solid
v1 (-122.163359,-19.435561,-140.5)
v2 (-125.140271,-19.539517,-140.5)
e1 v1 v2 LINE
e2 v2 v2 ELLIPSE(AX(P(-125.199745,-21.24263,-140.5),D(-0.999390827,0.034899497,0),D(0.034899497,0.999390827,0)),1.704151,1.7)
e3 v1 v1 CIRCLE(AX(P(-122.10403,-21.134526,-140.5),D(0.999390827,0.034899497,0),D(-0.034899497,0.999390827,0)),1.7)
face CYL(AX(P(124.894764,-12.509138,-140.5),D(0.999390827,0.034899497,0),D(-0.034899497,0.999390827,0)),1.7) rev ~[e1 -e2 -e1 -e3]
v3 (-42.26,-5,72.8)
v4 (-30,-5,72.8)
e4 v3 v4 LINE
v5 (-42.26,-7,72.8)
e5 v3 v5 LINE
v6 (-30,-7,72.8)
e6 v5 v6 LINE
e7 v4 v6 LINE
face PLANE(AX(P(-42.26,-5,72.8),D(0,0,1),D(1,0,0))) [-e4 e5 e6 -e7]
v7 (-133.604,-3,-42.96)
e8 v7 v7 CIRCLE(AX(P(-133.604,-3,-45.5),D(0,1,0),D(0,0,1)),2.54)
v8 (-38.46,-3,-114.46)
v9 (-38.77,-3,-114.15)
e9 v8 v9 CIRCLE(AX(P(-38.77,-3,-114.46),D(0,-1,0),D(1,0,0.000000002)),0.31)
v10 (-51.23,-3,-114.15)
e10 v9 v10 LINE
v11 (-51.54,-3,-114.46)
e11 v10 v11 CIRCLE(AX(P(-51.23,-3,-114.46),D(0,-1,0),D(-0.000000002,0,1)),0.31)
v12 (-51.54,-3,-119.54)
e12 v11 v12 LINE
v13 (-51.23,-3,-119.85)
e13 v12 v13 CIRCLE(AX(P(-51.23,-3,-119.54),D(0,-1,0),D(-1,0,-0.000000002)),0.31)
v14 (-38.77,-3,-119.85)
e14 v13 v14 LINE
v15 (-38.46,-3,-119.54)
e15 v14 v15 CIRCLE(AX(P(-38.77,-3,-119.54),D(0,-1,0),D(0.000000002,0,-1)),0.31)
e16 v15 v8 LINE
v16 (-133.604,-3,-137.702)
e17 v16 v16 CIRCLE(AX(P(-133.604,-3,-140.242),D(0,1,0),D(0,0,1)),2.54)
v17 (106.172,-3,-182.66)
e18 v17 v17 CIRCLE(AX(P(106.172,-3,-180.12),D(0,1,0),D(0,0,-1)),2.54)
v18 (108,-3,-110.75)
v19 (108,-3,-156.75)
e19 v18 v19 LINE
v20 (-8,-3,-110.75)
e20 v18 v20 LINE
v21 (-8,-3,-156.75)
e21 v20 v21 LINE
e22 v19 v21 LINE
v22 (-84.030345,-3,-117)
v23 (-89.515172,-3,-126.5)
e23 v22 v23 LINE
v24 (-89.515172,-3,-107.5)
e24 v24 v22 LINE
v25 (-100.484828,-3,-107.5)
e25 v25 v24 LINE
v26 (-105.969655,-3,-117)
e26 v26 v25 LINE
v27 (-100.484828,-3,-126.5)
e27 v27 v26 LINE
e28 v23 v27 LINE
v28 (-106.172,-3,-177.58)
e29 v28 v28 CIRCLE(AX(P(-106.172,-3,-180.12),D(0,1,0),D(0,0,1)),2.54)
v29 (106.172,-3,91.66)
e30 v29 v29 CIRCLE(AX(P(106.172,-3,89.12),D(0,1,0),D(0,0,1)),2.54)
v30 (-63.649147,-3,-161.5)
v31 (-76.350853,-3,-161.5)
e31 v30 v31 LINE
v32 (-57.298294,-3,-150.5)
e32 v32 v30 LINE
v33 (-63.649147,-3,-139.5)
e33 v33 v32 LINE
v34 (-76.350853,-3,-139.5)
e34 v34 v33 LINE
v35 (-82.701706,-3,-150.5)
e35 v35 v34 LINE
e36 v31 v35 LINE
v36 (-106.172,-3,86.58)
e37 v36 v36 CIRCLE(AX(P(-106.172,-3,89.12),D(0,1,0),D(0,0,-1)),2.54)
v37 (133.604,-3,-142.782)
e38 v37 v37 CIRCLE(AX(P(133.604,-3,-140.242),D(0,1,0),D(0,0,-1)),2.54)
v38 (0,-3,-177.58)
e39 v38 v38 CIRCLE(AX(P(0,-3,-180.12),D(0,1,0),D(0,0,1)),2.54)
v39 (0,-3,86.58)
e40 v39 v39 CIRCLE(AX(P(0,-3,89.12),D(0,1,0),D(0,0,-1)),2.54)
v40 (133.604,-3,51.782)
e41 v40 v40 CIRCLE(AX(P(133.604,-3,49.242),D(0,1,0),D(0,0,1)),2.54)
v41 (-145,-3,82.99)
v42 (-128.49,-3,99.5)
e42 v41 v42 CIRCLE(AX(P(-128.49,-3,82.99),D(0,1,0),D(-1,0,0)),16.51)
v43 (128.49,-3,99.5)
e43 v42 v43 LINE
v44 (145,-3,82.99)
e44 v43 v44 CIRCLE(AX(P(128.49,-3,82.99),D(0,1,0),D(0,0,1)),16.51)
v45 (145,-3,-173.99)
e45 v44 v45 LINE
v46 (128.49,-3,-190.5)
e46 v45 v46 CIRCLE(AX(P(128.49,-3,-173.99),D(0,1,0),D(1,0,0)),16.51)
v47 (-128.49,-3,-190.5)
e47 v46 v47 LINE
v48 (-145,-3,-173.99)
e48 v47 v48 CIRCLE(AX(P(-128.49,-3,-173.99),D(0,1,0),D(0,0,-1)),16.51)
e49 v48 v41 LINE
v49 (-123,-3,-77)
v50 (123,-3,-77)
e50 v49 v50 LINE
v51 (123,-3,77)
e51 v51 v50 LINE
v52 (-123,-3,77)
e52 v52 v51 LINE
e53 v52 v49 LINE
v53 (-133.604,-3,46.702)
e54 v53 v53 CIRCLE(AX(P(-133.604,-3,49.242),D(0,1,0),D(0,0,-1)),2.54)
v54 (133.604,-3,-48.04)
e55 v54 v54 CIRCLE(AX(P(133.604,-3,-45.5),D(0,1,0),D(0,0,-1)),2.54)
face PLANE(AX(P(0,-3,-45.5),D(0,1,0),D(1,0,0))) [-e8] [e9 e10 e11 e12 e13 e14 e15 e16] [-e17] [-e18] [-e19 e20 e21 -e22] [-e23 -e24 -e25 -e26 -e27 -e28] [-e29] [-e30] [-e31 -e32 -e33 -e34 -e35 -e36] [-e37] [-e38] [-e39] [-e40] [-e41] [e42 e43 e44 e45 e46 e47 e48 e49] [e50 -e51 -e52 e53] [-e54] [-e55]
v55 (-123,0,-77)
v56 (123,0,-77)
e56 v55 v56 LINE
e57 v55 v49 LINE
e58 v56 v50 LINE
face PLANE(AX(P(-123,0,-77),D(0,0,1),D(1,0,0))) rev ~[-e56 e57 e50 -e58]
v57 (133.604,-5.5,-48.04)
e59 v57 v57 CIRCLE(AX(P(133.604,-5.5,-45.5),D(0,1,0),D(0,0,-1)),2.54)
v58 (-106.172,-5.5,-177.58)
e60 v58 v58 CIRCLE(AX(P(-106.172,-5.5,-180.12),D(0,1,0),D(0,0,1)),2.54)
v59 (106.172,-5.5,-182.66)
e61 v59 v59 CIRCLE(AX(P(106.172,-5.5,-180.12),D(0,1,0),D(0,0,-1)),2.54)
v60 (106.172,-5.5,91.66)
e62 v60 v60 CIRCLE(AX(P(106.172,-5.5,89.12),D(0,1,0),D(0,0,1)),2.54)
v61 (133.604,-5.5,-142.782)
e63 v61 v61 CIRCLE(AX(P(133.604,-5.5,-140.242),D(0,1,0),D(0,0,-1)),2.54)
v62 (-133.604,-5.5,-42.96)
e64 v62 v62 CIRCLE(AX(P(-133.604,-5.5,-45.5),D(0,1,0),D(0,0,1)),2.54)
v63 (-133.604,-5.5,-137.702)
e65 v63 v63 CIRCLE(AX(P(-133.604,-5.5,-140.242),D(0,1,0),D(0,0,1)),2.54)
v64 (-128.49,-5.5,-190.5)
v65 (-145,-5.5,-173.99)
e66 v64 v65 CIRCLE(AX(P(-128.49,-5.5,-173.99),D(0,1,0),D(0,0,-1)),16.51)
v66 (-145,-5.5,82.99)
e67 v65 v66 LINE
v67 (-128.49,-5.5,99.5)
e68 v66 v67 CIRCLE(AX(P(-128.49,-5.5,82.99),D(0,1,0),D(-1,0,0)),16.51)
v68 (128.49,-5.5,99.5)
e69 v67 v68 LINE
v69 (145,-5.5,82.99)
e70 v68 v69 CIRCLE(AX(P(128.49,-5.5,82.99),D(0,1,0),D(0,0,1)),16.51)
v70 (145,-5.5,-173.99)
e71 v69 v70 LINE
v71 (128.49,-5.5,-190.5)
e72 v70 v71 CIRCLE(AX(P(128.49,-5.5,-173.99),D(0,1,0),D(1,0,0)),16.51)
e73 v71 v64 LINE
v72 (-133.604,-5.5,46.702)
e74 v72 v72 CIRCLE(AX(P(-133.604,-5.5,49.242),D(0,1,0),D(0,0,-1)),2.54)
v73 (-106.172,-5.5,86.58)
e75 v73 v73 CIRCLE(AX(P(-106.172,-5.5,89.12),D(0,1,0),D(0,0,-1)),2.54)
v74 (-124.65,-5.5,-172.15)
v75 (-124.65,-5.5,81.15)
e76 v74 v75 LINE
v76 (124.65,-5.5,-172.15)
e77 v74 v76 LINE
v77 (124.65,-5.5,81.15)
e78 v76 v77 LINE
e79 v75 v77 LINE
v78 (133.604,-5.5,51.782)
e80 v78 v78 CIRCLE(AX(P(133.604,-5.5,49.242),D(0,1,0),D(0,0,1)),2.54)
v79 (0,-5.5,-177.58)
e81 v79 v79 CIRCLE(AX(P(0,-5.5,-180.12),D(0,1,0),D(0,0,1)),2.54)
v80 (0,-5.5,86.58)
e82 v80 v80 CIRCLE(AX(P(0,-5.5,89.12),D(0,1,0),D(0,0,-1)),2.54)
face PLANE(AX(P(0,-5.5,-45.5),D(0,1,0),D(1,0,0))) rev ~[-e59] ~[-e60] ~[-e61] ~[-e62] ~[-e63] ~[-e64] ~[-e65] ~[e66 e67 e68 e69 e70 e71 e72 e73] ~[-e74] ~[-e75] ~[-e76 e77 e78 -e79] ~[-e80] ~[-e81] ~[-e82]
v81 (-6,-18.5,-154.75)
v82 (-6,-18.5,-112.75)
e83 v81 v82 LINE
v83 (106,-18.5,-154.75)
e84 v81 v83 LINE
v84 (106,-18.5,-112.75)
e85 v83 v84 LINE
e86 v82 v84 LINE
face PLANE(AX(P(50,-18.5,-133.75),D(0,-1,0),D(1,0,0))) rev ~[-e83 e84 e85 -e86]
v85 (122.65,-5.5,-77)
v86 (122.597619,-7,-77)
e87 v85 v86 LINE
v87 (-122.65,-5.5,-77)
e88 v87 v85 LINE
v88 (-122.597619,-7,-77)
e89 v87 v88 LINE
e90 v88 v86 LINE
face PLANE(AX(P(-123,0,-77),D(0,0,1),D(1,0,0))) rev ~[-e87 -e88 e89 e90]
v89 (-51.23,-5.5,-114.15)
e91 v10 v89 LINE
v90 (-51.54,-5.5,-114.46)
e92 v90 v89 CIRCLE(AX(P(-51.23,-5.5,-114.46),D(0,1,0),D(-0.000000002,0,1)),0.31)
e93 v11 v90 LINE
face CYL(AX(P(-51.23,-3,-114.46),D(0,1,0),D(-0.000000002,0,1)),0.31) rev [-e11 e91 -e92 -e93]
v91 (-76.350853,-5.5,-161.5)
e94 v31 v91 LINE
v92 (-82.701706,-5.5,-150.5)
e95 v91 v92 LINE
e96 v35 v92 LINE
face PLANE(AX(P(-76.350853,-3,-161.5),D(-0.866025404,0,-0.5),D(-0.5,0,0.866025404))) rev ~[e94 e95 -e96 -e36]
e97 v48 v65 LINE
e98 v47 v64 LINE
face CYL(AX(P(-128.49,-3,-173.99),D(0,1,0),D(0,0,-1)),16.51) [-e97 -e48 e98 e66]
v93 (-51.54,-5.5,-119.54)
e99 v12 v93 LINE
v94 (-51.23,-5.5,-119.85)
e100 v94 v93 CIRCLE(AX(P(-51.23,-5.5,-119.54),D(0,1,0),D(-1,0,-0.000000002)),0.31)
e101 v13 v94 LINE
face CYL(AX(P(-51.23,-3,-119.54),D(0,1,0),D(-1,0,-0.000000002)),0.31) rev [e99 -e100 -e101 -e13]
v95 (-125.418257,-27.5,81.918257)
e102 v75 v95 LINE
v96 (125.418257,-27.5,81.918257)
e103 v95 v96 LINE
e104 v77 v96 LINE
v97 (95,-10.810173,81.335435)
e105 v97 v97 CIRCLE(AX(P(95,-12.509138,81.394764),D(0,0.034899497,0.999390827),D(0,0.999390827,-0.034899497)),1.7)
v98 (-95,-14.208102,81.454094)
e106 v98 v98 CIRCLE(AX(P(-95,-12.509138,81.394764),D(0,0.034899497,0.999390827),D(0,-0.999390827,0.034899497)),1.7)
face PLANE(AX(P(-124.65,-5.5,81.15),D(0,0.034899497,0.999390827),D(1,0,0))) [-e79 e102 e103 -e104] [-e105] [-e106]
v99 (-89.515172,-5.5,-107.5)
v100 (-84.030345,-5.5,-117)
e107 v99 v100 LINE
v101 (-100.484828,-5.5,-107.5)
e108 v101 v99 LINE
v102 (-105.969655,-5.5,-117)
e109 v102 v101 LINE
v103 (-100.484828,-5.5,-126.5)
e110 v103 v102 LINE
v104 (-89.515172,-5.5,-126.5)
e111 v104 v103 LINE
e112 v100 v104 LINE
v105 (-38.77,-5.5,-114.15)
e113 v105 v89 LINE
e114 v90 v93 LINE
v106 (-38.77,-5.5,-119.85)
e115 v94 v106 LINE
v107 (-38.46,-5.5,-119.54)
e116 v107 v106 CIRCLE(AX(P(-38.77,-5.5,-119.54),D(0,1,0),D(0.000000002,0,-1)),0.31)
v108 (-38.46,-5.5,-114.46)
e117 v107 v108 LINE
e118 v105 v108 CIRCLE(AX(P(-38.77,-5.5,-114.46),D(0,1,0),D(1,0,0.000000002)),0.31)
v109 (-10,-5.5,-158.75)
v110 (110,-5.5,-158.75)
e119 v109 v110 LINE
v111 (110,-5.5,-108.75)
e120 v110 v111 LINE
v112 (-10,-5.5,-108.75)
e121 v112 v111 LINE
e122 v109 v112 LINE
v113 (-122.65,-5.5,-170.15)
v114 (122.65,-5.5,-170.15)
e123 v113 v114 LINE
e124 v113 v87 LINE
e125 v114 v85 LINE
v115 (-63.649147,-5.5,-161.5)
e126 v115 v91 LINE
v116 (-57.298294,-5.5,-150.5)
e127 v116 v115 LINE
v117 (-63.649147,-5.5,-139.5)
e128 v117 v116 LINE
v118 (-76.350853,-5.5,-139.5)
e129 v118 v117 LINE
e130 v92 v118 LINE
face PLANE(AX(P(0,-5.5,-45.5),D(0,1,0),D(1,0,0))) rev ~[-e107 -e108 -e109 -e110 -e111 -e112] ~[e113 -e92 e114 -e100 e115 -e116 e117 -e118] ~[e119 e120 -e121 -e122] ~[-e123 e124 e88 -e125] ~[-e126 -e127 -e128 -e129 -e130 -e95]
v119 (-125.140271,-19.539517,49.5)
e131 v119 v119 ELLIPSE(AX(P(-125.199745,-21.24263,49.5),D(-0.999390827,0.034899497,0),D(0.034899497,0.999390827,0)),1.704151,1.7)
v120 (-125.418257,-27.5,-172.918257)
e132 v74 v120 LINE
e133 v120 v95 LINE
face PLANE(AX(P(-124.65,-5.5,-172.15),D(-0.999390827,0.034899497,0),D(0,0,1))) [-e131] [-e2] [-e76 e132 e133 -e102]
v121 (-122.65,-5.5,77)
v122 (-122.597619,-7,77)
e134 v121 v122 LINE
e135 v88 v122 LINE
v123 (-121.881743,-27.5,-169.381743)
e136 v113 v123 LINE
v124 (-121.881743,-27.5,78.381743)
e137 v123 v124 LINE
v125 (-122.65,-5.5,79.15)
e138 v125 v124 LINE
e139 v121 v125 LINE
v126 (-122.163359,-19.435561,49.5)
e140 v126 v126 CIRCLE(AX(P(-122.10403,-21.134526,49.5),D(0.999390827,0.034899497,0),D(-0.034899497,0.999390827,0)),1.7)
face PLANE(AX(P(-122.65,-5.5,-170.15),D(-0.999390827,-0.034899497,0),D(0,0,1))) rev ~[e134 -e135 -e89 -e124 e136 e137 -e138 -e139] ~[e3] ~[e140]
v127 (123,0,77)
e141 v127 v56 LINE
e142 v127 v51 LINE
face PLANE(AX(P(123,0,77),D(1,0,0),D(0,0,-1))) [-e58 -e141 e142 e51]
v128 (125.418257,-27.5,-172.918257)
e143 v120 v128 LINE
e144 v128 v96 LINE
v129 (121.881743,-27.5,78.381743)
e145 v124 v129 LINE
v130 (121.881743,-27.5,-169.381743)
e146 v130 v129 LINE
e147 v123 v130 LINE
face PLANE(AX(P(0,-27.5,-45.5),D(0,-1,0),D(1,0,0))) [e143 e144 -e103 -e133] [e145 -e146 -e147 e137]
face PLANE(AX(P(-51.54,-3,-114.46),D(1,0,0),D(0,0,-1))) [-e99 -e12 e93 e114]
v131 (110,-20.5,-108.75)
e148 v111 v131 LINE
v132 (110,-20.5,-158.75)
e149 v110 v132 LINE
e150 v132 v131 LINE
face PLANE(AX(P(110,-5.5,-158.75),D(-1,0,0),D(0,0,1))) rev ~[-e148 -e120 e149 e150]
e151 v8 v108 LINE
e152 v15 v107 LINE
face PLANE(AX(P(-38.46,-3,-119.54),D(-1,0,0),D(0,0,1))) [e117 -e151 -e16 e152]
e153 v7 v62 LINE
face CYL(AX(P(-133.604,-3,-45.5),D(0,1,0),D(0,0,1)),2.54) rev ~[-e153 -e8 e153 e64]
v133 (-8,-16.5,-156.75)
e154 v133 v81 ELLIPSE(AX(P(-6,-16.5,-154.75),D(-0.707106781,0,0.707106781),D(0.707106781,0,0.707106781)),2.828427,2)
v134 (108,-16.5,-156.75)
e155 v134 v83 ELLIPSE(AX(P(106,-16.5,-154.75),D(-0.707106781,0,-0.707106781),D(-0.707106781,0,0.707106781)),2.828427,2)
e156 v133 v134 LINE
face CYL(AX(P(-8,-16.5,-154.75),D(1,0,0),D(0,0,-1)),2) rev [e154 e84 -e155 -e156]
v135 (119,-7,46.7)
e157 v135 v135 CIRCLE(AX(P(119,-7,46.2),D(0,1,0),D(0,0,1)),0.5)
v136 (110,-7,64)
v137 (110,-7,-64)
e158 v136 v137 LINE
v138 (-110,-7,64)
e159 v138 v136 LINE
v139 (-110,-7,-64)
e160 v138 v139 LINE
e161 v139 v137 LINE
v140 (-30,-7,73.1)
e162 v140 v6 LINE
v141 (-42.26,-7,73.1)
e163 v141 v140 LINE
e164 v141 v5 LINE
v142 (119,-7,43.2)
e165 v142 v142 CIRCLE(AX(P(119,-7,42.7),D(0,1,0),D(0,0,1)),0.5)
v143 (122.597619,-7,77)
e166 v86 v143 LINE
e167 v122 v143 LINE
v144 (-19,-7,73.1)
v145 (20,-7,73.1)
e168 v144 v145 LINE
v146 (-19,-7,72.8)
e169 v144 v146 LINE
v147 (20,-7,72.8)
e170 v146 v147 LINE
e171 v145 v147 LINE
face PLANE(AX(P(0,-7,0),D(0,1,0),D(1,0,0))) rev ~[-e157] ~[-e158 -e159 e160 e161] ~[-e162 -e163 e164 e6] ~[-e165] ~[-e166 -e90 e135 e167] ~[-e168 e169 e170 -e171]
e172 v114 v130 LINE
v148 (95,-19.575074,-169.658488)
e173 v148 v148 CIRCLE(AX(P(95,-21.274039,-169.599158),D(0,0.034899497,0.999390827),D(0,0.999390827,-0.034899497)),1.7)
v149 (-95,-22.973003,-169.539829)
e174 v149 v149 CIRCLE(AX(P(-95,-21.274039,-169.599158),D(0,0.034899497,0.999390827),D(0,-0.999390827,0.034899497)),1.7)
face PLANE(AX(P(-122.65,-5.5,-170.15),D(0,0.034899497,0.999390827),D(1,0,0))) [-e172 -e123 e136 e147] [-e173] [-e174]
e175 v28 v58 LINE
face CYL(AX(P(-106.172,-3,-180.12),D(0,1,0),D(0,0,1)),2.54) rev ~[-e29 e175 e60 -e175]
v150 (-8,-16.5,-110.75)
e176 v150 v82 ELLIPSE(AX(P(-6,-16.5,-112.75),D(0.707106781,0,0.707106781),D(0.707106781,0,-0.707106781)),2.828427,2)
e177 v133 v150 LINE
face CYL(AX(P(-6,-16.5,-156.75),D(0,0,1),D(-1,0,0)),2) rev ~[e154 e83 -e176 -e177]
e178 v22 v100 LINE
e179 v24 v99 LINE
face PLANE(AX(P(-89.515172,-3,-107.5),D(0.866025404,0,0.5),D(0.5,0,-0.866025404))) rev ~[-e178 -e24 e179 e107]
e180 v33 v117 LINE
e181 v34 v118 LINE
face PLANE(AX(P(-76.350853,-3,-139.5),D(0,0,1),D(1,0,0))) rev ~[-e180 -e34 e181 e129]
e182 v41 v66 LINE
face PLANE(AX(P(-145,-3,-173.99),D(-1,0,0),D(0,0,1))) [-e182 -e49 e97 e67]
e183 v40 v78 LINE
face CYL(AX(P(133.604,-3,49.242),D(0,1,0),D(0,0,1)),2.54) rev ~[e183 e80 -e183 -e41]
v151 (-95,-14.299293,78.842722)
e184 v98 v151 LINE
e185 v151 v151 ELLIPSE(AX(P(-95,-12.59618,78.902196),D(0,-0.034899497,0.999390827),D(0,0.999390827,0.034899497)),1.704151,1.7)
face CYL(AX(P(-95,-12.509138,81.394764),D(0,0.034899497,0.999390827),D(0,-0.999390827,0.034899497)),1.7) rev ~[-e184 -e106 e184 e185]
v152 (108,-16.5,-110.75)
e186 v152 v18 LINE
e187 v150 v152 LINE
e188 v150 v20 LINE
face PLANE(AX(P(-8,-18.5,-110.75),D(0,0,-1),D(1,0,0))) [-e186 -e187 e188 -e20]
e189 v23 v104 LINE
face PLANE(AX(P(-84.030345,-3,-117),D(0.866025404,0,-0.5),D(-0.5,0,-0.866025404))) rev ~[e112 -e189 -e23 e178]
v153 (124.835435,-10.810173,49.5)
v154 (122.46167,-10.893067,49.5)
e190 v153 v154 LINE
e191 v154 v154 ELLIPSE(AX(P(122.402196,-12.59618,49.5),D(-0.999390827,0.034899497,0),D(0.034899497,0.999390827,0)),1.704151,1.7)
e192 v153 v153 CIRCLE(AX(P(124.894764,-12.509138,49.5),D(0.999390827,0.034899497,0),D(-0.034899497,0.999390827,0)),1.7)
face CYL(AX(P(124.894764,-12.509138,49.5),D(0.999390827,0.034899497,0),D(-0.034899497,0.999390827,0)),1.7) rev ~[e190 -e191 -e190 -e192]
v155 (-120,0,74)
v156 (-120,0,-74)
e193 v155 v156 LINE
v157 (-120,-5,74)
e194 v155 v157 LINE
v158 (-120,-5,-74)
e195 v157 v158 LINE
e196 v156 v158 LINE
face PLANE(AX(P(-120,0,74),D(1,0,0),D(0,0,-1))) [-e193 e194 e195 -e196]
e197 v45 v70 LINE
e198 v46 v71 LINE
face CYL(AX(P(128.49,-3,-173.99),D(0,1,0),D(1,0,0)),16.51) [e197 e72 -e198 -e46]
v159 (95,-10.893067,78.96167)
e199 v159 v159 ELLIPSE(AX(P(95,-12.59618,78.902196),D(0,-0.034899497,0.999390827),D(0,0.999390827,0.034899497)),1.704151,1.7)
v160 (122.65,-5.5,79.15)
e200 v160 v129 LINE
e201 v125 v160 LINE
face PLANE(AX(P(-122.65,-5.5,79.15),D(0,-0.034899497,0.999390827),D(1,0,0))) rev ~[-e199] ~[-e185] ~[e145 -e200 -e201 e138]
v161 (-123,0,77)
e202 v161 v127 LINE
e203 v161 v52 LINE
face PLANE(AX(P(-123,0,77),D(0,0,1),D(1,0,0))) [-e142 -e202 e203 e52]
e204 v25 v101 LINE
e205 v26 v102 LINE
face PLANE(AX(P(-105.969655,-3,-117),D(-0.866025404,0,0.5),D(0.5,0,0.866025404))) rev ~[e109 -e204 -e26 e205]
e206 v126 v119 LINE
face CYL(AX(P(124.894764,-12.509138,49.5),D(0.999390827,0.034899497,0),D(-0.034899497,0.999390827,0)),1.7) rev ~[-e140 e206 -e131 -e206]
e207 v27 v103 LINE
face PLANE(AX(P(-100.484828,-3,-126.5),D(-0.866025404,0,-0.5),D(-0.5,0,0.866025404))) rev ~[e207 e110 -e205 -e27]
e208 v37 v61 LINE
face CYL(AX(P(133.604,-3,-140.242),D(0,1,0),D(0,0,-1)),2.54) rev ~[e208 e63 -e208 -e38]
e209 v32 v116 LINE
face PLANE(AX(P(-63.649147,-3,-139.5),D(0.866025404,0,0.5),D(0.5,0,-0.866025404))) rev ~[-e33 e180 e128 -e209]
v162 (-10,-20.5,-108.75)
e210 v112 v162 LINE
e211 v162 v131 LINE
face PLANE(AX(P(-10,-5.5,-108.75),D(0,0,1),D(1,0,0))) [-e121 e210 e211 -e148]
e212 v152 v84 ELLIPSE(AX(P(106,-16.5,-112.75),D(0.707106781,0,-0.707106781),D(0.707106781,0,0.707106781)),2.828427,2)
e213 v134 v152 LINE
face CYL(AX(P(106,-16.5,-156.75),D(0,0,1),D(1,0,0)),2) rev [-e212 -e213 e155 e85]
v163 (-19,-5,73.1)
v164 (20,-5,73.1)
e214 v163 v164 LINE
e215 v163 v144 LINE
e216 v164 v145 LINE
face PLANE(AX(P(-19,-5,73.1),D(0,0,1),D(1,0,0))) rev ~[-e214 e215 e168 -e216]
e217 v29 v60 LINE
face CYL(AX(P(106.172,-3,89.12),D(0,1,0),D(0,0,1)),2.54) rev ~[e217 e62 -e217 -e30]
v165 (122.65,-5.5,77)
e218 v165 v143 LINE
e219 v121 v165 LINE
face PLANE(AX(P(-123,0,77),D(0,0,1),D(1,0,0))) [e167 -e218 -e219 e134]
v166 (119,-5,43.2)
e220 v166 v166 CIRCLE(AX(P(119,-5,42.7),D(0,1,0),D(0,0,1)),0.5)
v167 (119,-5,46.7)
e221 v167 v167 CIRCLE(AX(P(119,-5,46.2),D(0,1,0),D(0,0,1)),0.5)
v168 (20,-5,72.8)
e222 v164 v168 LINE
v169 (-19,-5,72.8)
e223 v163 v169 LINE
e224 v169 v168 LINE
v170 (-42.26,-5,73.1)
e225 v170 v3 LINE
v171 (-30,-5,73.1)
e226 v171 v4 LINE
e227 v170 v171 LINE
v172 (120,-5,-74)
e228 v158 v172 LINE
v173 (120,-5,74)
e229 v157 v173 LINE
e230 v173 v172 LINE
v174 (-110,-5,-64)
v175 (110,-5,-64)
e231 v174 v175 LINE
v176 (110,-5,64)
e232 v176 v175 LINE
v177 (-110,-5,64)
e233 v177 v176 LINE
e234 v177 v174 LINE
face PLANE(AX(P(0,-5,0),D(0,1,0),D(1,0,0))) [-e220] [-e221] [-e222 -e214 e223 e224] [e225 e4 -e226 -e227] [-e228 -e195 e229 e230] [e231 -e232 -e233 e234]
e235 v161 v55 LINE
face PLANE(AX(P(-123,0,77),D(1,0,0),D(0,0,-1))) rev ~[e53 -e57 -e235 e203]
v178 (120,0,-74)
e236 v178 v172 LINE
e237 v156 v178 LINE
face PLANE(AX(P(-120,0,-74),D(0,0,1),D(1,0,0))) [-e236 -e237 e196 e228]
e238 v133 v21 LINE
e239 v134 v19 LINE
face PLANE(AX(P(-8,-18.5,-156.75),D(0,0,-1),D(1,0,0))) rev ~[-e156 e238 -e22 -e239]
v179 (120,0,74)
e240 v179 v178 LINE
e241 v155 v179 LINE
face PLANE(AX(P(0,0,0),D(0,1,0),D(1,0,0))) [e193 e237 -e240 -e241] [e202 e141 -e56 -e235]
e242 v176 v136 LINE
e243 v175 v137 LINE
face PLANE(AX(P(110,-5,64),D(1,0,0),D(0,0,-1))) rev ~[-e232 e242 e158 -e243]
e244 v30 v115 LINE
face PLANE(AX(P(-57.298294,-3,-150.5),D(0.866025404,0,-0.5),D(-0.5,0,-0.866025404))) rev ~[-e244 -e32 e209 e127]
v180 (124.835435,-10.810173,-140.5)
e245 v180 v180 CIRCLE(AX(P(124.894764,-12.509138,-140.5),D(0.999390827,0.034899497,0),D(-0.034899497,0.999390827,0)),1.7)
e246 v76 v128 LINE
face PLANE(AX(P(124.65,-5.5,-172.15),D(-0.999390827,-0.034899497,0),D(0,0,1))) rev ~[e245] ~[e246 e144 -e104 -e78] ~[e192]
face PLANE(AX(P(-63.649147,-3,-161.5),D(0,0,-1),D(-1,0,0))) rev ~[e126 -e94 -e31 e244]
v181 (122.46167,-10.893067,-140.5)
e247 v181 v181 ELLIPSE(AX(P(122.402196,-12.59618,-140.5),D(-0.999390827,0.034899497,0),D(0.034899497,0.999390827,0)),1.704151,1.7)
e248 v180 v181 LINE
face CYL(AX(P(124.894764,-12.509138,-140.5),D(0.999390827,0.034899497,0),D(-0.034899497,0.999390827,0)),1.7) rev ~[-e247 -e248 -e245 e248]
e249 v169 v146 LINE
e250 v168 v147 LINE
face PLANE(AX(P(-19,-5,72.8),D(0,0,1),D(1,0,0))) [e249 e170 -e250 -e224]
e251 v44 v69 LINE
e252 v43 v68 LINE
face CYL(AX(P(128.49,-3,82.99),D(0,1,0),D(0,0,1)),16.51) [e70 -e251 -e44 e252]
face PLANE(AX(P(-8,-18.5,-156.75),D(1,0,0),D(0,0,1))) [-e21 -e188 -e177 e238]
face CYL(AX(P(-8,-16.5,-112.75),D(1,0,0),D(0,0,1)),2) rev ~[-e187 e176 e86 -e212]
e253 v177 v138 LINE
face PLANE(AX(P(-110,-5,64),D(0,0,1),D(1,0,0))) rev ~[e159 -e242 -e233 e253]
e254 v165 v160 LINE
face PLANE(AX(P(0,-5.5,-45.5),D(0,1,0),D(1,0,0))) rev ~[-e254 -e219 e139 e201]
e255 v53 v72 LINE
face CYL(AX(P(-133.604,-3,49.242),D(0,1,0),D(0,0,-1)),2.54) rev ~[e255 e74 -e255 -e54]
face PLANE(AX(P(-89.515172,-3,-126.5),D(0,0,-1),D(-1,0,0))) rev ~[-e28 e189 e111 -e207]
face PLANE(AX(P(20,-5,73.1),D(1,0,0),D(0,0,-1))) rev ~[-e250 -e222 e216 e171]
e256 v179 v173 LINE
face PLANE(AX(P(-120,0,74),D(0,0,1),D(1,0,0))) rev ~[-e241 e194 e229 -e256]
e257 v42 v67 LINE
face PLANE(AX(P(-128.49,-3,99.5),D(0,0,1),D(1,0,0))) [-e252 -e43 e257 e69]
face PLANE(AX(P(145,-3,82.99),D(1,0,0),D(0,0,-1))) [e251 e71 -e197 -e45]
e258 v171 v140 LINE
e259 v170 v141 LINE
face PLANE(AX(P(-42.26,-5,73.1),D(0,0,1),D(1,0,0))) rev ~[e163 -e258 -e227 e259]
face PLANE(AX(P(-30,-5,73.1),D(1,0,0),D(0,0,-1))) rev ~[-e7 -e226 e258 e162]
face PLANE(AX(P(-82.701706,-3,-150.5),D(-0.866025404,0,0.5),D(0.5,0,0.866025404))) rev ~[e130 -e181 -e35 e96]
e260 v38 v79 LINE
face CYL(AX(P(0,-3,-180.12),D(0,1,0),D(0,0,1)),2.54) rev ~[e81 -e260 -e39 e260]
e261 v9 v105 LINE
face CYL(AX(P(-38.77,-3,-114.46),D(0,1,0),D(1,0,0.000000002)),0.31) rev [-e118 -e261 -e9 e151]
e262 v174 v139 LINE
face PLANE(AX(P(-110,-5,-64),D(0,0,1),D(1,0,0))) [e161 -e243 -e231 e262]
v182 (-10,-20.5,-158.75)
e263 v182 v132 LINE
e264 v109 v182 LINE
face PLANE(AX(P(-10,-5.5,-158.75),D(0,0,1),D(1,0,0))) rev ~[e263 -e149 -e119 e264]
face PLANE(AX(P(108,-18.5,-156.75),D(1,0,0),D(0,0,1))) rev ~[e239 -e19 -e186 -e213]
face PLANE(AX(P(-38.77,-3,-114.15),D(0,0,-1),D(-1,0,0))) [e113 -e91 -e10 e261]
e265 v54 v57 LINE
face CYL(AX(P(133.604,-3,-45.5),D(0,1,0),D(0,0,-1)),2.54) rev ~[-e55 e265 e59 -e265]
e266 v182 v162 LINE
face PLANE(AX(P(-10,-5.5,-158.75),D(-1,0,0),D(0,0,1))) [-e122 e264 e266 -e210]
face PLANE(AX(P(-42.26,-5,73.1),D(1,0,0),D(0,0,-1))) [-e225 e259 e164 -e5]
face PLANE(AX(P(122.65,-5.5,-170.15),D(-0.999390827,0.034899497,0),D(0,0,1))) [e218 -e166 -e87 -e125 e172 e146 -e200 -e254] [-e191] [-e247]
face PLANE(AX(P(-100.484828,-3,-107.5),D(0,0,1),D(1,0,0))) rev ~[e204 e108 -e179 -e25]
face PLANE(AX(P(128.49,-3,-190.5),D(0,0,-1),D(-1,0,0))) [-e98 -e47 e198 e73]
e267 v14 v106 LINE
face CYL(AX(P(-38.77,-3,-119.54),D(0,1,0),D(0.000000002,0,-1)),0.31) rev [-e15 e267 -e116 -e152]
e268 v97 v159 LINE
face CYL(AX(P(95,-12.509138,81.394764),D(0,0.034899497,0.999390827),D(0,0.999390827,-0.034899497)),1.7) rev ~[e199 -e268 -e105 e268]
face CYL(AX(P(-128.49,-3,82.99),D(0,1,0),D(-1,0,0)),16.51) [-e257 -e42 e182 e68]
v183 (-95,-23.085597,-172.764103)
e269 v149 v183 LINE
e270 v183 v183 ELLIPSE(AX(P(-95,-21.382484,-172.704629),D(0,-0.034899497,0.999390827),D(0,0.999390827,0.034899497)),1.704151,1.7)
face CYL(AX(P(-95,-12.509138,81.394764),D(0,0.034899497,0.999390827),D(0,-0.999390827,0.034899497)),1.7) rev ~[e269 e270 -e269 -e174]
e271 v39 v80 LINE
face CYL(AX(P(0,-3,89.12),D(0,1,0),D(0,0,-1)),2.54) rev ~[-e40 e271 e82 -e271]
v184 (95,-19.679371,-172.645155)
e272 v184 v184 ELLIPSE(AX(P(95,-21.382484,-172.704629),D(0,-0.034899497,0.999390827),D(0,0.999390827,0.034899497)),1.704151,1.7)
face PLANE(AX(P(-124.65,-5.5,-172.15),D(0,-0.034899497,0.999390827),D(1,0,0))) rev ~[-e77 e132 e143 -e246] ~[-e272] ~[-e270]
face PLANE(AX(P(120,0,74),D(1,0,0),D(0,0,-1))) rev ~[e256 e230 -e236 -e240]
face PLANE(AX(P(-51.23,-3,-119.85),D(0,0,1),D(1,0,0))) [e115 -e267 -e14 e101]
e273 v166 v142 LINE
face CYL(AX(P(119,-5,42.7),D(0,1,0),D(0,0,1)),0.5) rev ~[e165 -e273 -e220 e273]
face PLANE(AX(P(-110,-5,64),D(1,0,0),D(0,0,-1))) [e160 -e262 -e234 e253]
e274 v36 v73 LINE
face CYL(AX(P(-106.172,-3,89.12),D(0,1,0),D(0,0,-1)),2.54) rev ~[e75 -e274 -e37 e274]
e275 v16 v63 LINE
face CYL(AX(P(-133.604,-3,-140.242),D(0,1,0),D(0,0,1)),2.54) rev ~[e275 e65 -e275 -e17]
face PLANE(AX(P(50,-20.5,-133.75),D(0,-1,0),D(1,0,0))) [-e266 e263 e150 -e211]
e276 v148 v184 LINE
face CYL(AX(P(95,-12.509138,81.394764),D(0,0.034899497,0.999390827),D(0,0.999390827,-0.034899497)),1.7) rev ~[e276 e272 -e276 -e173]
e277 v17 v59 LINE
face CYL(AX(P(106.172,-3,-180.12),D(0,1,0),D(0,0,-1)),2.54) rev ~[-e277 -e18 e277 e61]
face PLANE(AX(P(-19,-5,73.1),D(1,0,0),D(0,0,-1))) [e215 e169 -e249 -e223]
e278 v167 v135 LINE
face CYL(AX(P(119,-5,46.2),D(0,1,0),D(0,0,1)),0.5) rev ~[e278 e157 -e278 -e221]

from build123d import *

# Parameters (mm, degrees)
SKETCH1_W           = 246
SKETCH1_H           = 154
BOSS_EXTRUDE1_DEPTH = 7
SKETCH2_W           = 240
SKETCH2_H           = 148
CUT_EXTRUDE1_DEPTH  = 5
SKETCH3_W           = 220
SKETCH3_H           = 128
CUT_EXTRUDE2_DEPTH  = 5
BOSS_EXTRUDE2_START = -3
SKETCH6_W           = 246
SKETCH6_H           = 154
BOSS_EXTRUDE2_DEPTH = 2.5
SKETCH8_W           = 39
SKETCH8_H           = 0.3
SKETCH8_W_2         = 12.26
CUT_EXTRUDE5_DEPTH  = 5
SKETCH9_R           = 0.5
CUT_EXTRUDE6_DEPTH  = 5
SKETCH10_R          = 2.54
CUT_EXTRUDE7_DEPTH  = 5
SKETCH11_W          = 249.3
SKETCH11_H          = 253.3
SKETCH11_W_2        = 245.3
SKETCH11_H_2        = 249.3
BOSS_EXTRUDE3_DEPTH = 22
BOSS_EXTRUDE3_DRAFT = -2
SKETCH12_R          = 1.7
CUT_EXTRUDE8_DEPTH  = 332.406096652
SKETCH13_R          = 1.7
CUT_EXTRUDE9_DEPTH  = 310.160818194
SKETCH14_W          = 120
SKETCH14_H          = 50
BOSS_EXTRUDE4_DEPTH = 15
CUT_EXTRUDE10_START = -2
SKETCH15_W          = 116
SKETCH15_H          = 46
CUT_EXTRUDE10_DEPTH = 239.282125844
FILLET1_R           = 2
CUT_EXTRUDE11_DEPTH = 241.656394056


with BuildPart() as part:
    # Sketch1 → Boss-Extrude1 (new body)
    with BuildSketch(Plane(origin=(0, 0, 0), x_dir=(1, 0, 0), z_dir=(0, 1, 0))):
        Rectangle(SKETCH1_W, SKETCH1_H)
    extrude(amount=-BOSS_EXTRUDE1_DEPTH)

    # Sketch2 → Cut-Extrude1 (cut)
    with BuildSketch(Plane(origin=(0, 0, 0), x_dir=(1, 0, 0), z_dir=(0, 1, 0))):
        Rectangle(SKETCH2_W, SKETCH2_H)
    extrude(amount=-CUT_EXTRUDE1_DEPTH, mode=Mode.SUBTRACT)

    # Sketch3 → Cut-Extrude2 (cut)
    with BuildSketch(Plane(origin=(0, -5, 0), x_dir=(1, 0, 0), z_dir=(0, 1, 0))):
        Rectangle(SKETCH3_W, SKETCH3_H)
    extrude(amount=-CUT_EXTRUDE2_DEPTH, mode=Mode.SUBTRACT)

    # Sketch6 → Boss-Extrude2 (add)
    with BuildSketch(Plane(origin=(0, 0, 0), x_dir=(1, 0, 0), z_dir=(0, 1, 0)).offset(BOSS_EXTRUDE2_START)):
        with BuildLine():
            Line((-128.49, -99.5), (128.49, -99.5))
            ThreePointArc((128.49, -99.5), (140.164332957, -94.664332957), (145, -82.99))
            Line((145, -82.99), (145, 173.99))
            ThreePointArc((145, 173.99), (140.164332957, 185.664332957), (128.49, 190.5))
            Line((128.49, 190.5), (-128.49, 190.5))
            ThreePointArc((-128.49, 190.5), (-140.164332957, 185.664332957), (-145, 173.99))
            Line((-145, 173.99), (-145, -82.99))
            ThreePointArc((-145, -82.99), (-140.164332957, -94.664332957), (-128.49, -99.5))
        make_face()
        Rectangle(SKETCH6_W, SKETCH6_H, mode=Mode.SUBTRACT)
    extrude(amount=-BOSS_EXTRUDE2_DEPTH)

    # Sketch8 → Cut-Extrude5 (cut)
    with BuildSketch(Plane(origin=(0, -5, 0), x_dir=(1, 0, 0), z_dir=(0, 1, 0))):
        with Locations((0.5, -72.95)):
            Rectangle(SKETCH8_W, SKETCH8_H)
        with Locations((-36.13, -72.95)):
            Rectangle(SKETCH8_W_2, SKETCH8_H)
    extrude(amount=-CUT_EXTRUDE5_DEPTH, mode=Mode.SUBTRACT)

    # Sketch9 → Cut-Extrude6 (cut)
    with BuildSketch(Plane(origin=(0, -5, 0), x_dir=(1, 0, 0), z_dir=(0, 1, 0))):
        with Locations(Location((119, -46.2, 0), (0, 0, 270))):
            Circle(SKETCH9_R)
        with Locations(Location((119, -42.7, 0), (0, 0, 270))):
            Circle(SKETCH9_R)
    extrude(amount=-CUT_EXTRUDE6_DEPTH, mode=Mode.SUBTRACT)

    # Sketch10 → Cut-Extrude7 (cut)
    with BuildSketch(Plane(origin=(0, -3, 0), x_dir=(1, 0, 0), z_dir=(0, 1, 0))):
        with Locations(Location((-133.604, 140.242, 0), (0, 0, 270))):
            Circle(SKETCH10_R)
        with Locations(Location((-106.172, 180.12, 0), (0, 0, 270))):
            Circle(SKETCH10_R)
        with Locations(Location((-133.604, -49.242, 0), (0, 0, 90))):
            Circle(SKETCH10_R)
        with Locations(Location((-133.604, 45.5, 0), (0, 0, 270))):
            Circle(SKETCH10_R)
        with Locations(Location((0, 180.12, 0), (0, 0, 270))):
            Circle(SKETCH10_R)
        with Locations(Location((0, -89.12, 0), (0, 0, 90))):
            Circle(SKETCH10_R)
        with Locations(Location((-106.172, -89.12, 0), (0, 0, 90))):
            Circle(SKETCH10_R)
        with Locations(Location((106.172, -89.12, 0), (0, 0, 270))):
            Circle(SKETCH10_R)
        with Locations(Location((133.604, 45.5, 0), (0, 0, 90))):
            Circle(SKETCH10_R)
        with Locations(Location((133.604, -49.242, 0), (0, 0, 270))):
            Circle(SKETCH10_R)
        with Locations(Location((106.172, 180.12, 0), (0, 0, 90))):
            Circle(SKETCH10_R)
        with Locations(Location((133.604, 140.242, 0), (0, 0, 90))):
            Circle(SKETCH10_R)
    extrude(amount=-CUT_EXTRUDE7_DEPTH, mode=Mode.SUBTRACT)


with BuildPart() as boss_extrude3_tool:
    # Sketch11 → Boss-Extrude3 (with draft: the straight prism first)
    with BuildSketch(Plane.XZ.offset(5.5)):
        with Locations((0, -45.5)):
            Rectangle(SKETCH11_W, SKETCH11_H)
        with Locations((0, -45.5)):
            Rectangle(SKETCH11_W_2, SKETCH11_H_2, mode=Mode.SUBTRACT)
    extrude(amount=BOSS_EXTRUDE3_DEPTH)
    # Boss-Extrude3: the draft: its side faces are tilted about the plane it starts from
    boss_extrude3_sides = [boss_extrude3_tool.faces().sort_by_distance(p)[0] for p in [
        (0, -16.5, -172.15),
        (124.65, -16.5, -45.5),
        (0, -16.5, 81.15),
        (-124.65, -16.5, -45.5),
        (0, -16.5, 79.15),
        (122.65, -16.5, -45.5),
        (0, -16.5, -170.15),
        (-122.65, -16.5, -45.5),
    ]]
    draft(boss_extrude3_sides, Plane.XZ.offset(5.5), BOSS_EXTRUDE3_DRAFT)


with BuildPart() as part_1:
    add(part.part)

    # Boss-Extrude3: add boss_extrude3_tool
    add(boss_extrude3_tool.part)

    # Sketch12 → Cut-Extrude8 (cut, through all)
    with BuildSketch(Plane(origin=(124.30634913, 4.340873364, 0), x_dir=(0, 0, -1), z_dir=(0.9993908270190958, 0.03489949670250105, 0))):
        with Locations(Location((-49.5, -16.860281787, 0), (0, 0, 90))):
            Circle(SKETCH12_R)
        with Locations(Location((140.5, -16.860281787, 0), (0, 0, 90))):
            Circle(SKETCH12_R)
    extrude(amount=-CUT_EXTRUDE8_DEPTH, mode=Mode.SUBTRACT)

    # Sketch13 → Cut-Extrude9 (cut, through all)
    with BuildSketch(Plane(origin=(0, 2.82367006, 80.859331036), x_dir=(1, 0, 0), z_dir=(0, 0.03489949670250106, 0.9993908270190958))):
        with Locations(Location((-95, -15.342153681, 0), (0, 0, 270))):
            Circle(SKETCH13_R)
        with Locations(Location((95, -15.342153681, 0), (0, 0, 90))):
            Circle(SKETCH13_R)
    extrude(amount=-CUT_EXTRUDE9_DEPTH, mode=Mode.SUBTRACT)

    # Sketch14 → Boss-Extrude4 (add)
    with BuildSketch(Plane.XZ.offset(5.5)):
        with Locations((50, -133.75)):
            Rectangle(SKETCH14_W, SKETCH14_H)
    extrude(amount=BOSS_EXTRUDE4_DEPTH)

    # Sketch15 → Cut-Extrude10 (cut, through all)
    with BuildSketch(Plane.XZ.offset(20.5).offset(CUT_EXTRUDE10_START)):
        with Locations((50, -133.75)):
            Rectangle(SKETCH15_W, SKETCH15_H)
    extrude(amount=-CUT_EXTRUDE10_DEPTH, mode=Mode.SUBTRACT)

    # Fillet1
    fillet1_edges = [part_1.edges().sort_by_distance(p)[0] for p in [
        (108, -18.5, -133.75),
        (50, -18.5, -110.75),
        (-8, -18.5, -133.75),
        (50, -18.5, -156.75),
    ]]
    fillet(fillet1_edges, radius=FILLET1_R)

    # Sketch16 → Cut-Extrude11 (cut, through all)
    with BuildSketch(Plane(origin=(0, -3, 0), x_dir=(1, 0, 0), z_dir=(0, 1, 0))):
        Polygon((-57.298294078, 150.5), (-63.649147039, 161.5), (-76.350852961, 161.5), (-82.701705922, 150.5), (-76.350852961, 139.5), (-63.649147039, 139.5), align=None)
        Polygon((-84.030344885, 117), (-89.515172443, 126.5), (-100.484827557, 126.5), (-105.969655115, 117), (-100.484827557, 107.5), (-89.515172443, 107.5), align=None)
        with BuildLine():
            Line((-51.23, 119.85), (-38.77, 119.85))
            ThreePointArc((-38.77, 119.85), (-38.550796898, 119.759203102), (-38.46, 119.54))
            Line((-38.46, 119.54), (-38.46, 114.46))
            ThreePointArc((-38.46, 114.46), (-38.550796898, 114.240796898), (-38.77, 114.15))
            Line((-38.77, 114.15), (-51.23, 114.15))
            ThreePointArc((-51.23, 114.15), (-51.449203102, 114.240796898), (-51.54, 114.46))
            Line((-51.54, 114.46), (-51.54, 119.54))
            ThreePointArc((-51.54, 119.54), (-51.449203102, 119.759203102), (-51.23, 119.85))
        make_face()
    extrude(amount=-CUT_EXTRUDE11_DEPTH, mode=Mode.SUBTRACT)


solid = part_1.part
